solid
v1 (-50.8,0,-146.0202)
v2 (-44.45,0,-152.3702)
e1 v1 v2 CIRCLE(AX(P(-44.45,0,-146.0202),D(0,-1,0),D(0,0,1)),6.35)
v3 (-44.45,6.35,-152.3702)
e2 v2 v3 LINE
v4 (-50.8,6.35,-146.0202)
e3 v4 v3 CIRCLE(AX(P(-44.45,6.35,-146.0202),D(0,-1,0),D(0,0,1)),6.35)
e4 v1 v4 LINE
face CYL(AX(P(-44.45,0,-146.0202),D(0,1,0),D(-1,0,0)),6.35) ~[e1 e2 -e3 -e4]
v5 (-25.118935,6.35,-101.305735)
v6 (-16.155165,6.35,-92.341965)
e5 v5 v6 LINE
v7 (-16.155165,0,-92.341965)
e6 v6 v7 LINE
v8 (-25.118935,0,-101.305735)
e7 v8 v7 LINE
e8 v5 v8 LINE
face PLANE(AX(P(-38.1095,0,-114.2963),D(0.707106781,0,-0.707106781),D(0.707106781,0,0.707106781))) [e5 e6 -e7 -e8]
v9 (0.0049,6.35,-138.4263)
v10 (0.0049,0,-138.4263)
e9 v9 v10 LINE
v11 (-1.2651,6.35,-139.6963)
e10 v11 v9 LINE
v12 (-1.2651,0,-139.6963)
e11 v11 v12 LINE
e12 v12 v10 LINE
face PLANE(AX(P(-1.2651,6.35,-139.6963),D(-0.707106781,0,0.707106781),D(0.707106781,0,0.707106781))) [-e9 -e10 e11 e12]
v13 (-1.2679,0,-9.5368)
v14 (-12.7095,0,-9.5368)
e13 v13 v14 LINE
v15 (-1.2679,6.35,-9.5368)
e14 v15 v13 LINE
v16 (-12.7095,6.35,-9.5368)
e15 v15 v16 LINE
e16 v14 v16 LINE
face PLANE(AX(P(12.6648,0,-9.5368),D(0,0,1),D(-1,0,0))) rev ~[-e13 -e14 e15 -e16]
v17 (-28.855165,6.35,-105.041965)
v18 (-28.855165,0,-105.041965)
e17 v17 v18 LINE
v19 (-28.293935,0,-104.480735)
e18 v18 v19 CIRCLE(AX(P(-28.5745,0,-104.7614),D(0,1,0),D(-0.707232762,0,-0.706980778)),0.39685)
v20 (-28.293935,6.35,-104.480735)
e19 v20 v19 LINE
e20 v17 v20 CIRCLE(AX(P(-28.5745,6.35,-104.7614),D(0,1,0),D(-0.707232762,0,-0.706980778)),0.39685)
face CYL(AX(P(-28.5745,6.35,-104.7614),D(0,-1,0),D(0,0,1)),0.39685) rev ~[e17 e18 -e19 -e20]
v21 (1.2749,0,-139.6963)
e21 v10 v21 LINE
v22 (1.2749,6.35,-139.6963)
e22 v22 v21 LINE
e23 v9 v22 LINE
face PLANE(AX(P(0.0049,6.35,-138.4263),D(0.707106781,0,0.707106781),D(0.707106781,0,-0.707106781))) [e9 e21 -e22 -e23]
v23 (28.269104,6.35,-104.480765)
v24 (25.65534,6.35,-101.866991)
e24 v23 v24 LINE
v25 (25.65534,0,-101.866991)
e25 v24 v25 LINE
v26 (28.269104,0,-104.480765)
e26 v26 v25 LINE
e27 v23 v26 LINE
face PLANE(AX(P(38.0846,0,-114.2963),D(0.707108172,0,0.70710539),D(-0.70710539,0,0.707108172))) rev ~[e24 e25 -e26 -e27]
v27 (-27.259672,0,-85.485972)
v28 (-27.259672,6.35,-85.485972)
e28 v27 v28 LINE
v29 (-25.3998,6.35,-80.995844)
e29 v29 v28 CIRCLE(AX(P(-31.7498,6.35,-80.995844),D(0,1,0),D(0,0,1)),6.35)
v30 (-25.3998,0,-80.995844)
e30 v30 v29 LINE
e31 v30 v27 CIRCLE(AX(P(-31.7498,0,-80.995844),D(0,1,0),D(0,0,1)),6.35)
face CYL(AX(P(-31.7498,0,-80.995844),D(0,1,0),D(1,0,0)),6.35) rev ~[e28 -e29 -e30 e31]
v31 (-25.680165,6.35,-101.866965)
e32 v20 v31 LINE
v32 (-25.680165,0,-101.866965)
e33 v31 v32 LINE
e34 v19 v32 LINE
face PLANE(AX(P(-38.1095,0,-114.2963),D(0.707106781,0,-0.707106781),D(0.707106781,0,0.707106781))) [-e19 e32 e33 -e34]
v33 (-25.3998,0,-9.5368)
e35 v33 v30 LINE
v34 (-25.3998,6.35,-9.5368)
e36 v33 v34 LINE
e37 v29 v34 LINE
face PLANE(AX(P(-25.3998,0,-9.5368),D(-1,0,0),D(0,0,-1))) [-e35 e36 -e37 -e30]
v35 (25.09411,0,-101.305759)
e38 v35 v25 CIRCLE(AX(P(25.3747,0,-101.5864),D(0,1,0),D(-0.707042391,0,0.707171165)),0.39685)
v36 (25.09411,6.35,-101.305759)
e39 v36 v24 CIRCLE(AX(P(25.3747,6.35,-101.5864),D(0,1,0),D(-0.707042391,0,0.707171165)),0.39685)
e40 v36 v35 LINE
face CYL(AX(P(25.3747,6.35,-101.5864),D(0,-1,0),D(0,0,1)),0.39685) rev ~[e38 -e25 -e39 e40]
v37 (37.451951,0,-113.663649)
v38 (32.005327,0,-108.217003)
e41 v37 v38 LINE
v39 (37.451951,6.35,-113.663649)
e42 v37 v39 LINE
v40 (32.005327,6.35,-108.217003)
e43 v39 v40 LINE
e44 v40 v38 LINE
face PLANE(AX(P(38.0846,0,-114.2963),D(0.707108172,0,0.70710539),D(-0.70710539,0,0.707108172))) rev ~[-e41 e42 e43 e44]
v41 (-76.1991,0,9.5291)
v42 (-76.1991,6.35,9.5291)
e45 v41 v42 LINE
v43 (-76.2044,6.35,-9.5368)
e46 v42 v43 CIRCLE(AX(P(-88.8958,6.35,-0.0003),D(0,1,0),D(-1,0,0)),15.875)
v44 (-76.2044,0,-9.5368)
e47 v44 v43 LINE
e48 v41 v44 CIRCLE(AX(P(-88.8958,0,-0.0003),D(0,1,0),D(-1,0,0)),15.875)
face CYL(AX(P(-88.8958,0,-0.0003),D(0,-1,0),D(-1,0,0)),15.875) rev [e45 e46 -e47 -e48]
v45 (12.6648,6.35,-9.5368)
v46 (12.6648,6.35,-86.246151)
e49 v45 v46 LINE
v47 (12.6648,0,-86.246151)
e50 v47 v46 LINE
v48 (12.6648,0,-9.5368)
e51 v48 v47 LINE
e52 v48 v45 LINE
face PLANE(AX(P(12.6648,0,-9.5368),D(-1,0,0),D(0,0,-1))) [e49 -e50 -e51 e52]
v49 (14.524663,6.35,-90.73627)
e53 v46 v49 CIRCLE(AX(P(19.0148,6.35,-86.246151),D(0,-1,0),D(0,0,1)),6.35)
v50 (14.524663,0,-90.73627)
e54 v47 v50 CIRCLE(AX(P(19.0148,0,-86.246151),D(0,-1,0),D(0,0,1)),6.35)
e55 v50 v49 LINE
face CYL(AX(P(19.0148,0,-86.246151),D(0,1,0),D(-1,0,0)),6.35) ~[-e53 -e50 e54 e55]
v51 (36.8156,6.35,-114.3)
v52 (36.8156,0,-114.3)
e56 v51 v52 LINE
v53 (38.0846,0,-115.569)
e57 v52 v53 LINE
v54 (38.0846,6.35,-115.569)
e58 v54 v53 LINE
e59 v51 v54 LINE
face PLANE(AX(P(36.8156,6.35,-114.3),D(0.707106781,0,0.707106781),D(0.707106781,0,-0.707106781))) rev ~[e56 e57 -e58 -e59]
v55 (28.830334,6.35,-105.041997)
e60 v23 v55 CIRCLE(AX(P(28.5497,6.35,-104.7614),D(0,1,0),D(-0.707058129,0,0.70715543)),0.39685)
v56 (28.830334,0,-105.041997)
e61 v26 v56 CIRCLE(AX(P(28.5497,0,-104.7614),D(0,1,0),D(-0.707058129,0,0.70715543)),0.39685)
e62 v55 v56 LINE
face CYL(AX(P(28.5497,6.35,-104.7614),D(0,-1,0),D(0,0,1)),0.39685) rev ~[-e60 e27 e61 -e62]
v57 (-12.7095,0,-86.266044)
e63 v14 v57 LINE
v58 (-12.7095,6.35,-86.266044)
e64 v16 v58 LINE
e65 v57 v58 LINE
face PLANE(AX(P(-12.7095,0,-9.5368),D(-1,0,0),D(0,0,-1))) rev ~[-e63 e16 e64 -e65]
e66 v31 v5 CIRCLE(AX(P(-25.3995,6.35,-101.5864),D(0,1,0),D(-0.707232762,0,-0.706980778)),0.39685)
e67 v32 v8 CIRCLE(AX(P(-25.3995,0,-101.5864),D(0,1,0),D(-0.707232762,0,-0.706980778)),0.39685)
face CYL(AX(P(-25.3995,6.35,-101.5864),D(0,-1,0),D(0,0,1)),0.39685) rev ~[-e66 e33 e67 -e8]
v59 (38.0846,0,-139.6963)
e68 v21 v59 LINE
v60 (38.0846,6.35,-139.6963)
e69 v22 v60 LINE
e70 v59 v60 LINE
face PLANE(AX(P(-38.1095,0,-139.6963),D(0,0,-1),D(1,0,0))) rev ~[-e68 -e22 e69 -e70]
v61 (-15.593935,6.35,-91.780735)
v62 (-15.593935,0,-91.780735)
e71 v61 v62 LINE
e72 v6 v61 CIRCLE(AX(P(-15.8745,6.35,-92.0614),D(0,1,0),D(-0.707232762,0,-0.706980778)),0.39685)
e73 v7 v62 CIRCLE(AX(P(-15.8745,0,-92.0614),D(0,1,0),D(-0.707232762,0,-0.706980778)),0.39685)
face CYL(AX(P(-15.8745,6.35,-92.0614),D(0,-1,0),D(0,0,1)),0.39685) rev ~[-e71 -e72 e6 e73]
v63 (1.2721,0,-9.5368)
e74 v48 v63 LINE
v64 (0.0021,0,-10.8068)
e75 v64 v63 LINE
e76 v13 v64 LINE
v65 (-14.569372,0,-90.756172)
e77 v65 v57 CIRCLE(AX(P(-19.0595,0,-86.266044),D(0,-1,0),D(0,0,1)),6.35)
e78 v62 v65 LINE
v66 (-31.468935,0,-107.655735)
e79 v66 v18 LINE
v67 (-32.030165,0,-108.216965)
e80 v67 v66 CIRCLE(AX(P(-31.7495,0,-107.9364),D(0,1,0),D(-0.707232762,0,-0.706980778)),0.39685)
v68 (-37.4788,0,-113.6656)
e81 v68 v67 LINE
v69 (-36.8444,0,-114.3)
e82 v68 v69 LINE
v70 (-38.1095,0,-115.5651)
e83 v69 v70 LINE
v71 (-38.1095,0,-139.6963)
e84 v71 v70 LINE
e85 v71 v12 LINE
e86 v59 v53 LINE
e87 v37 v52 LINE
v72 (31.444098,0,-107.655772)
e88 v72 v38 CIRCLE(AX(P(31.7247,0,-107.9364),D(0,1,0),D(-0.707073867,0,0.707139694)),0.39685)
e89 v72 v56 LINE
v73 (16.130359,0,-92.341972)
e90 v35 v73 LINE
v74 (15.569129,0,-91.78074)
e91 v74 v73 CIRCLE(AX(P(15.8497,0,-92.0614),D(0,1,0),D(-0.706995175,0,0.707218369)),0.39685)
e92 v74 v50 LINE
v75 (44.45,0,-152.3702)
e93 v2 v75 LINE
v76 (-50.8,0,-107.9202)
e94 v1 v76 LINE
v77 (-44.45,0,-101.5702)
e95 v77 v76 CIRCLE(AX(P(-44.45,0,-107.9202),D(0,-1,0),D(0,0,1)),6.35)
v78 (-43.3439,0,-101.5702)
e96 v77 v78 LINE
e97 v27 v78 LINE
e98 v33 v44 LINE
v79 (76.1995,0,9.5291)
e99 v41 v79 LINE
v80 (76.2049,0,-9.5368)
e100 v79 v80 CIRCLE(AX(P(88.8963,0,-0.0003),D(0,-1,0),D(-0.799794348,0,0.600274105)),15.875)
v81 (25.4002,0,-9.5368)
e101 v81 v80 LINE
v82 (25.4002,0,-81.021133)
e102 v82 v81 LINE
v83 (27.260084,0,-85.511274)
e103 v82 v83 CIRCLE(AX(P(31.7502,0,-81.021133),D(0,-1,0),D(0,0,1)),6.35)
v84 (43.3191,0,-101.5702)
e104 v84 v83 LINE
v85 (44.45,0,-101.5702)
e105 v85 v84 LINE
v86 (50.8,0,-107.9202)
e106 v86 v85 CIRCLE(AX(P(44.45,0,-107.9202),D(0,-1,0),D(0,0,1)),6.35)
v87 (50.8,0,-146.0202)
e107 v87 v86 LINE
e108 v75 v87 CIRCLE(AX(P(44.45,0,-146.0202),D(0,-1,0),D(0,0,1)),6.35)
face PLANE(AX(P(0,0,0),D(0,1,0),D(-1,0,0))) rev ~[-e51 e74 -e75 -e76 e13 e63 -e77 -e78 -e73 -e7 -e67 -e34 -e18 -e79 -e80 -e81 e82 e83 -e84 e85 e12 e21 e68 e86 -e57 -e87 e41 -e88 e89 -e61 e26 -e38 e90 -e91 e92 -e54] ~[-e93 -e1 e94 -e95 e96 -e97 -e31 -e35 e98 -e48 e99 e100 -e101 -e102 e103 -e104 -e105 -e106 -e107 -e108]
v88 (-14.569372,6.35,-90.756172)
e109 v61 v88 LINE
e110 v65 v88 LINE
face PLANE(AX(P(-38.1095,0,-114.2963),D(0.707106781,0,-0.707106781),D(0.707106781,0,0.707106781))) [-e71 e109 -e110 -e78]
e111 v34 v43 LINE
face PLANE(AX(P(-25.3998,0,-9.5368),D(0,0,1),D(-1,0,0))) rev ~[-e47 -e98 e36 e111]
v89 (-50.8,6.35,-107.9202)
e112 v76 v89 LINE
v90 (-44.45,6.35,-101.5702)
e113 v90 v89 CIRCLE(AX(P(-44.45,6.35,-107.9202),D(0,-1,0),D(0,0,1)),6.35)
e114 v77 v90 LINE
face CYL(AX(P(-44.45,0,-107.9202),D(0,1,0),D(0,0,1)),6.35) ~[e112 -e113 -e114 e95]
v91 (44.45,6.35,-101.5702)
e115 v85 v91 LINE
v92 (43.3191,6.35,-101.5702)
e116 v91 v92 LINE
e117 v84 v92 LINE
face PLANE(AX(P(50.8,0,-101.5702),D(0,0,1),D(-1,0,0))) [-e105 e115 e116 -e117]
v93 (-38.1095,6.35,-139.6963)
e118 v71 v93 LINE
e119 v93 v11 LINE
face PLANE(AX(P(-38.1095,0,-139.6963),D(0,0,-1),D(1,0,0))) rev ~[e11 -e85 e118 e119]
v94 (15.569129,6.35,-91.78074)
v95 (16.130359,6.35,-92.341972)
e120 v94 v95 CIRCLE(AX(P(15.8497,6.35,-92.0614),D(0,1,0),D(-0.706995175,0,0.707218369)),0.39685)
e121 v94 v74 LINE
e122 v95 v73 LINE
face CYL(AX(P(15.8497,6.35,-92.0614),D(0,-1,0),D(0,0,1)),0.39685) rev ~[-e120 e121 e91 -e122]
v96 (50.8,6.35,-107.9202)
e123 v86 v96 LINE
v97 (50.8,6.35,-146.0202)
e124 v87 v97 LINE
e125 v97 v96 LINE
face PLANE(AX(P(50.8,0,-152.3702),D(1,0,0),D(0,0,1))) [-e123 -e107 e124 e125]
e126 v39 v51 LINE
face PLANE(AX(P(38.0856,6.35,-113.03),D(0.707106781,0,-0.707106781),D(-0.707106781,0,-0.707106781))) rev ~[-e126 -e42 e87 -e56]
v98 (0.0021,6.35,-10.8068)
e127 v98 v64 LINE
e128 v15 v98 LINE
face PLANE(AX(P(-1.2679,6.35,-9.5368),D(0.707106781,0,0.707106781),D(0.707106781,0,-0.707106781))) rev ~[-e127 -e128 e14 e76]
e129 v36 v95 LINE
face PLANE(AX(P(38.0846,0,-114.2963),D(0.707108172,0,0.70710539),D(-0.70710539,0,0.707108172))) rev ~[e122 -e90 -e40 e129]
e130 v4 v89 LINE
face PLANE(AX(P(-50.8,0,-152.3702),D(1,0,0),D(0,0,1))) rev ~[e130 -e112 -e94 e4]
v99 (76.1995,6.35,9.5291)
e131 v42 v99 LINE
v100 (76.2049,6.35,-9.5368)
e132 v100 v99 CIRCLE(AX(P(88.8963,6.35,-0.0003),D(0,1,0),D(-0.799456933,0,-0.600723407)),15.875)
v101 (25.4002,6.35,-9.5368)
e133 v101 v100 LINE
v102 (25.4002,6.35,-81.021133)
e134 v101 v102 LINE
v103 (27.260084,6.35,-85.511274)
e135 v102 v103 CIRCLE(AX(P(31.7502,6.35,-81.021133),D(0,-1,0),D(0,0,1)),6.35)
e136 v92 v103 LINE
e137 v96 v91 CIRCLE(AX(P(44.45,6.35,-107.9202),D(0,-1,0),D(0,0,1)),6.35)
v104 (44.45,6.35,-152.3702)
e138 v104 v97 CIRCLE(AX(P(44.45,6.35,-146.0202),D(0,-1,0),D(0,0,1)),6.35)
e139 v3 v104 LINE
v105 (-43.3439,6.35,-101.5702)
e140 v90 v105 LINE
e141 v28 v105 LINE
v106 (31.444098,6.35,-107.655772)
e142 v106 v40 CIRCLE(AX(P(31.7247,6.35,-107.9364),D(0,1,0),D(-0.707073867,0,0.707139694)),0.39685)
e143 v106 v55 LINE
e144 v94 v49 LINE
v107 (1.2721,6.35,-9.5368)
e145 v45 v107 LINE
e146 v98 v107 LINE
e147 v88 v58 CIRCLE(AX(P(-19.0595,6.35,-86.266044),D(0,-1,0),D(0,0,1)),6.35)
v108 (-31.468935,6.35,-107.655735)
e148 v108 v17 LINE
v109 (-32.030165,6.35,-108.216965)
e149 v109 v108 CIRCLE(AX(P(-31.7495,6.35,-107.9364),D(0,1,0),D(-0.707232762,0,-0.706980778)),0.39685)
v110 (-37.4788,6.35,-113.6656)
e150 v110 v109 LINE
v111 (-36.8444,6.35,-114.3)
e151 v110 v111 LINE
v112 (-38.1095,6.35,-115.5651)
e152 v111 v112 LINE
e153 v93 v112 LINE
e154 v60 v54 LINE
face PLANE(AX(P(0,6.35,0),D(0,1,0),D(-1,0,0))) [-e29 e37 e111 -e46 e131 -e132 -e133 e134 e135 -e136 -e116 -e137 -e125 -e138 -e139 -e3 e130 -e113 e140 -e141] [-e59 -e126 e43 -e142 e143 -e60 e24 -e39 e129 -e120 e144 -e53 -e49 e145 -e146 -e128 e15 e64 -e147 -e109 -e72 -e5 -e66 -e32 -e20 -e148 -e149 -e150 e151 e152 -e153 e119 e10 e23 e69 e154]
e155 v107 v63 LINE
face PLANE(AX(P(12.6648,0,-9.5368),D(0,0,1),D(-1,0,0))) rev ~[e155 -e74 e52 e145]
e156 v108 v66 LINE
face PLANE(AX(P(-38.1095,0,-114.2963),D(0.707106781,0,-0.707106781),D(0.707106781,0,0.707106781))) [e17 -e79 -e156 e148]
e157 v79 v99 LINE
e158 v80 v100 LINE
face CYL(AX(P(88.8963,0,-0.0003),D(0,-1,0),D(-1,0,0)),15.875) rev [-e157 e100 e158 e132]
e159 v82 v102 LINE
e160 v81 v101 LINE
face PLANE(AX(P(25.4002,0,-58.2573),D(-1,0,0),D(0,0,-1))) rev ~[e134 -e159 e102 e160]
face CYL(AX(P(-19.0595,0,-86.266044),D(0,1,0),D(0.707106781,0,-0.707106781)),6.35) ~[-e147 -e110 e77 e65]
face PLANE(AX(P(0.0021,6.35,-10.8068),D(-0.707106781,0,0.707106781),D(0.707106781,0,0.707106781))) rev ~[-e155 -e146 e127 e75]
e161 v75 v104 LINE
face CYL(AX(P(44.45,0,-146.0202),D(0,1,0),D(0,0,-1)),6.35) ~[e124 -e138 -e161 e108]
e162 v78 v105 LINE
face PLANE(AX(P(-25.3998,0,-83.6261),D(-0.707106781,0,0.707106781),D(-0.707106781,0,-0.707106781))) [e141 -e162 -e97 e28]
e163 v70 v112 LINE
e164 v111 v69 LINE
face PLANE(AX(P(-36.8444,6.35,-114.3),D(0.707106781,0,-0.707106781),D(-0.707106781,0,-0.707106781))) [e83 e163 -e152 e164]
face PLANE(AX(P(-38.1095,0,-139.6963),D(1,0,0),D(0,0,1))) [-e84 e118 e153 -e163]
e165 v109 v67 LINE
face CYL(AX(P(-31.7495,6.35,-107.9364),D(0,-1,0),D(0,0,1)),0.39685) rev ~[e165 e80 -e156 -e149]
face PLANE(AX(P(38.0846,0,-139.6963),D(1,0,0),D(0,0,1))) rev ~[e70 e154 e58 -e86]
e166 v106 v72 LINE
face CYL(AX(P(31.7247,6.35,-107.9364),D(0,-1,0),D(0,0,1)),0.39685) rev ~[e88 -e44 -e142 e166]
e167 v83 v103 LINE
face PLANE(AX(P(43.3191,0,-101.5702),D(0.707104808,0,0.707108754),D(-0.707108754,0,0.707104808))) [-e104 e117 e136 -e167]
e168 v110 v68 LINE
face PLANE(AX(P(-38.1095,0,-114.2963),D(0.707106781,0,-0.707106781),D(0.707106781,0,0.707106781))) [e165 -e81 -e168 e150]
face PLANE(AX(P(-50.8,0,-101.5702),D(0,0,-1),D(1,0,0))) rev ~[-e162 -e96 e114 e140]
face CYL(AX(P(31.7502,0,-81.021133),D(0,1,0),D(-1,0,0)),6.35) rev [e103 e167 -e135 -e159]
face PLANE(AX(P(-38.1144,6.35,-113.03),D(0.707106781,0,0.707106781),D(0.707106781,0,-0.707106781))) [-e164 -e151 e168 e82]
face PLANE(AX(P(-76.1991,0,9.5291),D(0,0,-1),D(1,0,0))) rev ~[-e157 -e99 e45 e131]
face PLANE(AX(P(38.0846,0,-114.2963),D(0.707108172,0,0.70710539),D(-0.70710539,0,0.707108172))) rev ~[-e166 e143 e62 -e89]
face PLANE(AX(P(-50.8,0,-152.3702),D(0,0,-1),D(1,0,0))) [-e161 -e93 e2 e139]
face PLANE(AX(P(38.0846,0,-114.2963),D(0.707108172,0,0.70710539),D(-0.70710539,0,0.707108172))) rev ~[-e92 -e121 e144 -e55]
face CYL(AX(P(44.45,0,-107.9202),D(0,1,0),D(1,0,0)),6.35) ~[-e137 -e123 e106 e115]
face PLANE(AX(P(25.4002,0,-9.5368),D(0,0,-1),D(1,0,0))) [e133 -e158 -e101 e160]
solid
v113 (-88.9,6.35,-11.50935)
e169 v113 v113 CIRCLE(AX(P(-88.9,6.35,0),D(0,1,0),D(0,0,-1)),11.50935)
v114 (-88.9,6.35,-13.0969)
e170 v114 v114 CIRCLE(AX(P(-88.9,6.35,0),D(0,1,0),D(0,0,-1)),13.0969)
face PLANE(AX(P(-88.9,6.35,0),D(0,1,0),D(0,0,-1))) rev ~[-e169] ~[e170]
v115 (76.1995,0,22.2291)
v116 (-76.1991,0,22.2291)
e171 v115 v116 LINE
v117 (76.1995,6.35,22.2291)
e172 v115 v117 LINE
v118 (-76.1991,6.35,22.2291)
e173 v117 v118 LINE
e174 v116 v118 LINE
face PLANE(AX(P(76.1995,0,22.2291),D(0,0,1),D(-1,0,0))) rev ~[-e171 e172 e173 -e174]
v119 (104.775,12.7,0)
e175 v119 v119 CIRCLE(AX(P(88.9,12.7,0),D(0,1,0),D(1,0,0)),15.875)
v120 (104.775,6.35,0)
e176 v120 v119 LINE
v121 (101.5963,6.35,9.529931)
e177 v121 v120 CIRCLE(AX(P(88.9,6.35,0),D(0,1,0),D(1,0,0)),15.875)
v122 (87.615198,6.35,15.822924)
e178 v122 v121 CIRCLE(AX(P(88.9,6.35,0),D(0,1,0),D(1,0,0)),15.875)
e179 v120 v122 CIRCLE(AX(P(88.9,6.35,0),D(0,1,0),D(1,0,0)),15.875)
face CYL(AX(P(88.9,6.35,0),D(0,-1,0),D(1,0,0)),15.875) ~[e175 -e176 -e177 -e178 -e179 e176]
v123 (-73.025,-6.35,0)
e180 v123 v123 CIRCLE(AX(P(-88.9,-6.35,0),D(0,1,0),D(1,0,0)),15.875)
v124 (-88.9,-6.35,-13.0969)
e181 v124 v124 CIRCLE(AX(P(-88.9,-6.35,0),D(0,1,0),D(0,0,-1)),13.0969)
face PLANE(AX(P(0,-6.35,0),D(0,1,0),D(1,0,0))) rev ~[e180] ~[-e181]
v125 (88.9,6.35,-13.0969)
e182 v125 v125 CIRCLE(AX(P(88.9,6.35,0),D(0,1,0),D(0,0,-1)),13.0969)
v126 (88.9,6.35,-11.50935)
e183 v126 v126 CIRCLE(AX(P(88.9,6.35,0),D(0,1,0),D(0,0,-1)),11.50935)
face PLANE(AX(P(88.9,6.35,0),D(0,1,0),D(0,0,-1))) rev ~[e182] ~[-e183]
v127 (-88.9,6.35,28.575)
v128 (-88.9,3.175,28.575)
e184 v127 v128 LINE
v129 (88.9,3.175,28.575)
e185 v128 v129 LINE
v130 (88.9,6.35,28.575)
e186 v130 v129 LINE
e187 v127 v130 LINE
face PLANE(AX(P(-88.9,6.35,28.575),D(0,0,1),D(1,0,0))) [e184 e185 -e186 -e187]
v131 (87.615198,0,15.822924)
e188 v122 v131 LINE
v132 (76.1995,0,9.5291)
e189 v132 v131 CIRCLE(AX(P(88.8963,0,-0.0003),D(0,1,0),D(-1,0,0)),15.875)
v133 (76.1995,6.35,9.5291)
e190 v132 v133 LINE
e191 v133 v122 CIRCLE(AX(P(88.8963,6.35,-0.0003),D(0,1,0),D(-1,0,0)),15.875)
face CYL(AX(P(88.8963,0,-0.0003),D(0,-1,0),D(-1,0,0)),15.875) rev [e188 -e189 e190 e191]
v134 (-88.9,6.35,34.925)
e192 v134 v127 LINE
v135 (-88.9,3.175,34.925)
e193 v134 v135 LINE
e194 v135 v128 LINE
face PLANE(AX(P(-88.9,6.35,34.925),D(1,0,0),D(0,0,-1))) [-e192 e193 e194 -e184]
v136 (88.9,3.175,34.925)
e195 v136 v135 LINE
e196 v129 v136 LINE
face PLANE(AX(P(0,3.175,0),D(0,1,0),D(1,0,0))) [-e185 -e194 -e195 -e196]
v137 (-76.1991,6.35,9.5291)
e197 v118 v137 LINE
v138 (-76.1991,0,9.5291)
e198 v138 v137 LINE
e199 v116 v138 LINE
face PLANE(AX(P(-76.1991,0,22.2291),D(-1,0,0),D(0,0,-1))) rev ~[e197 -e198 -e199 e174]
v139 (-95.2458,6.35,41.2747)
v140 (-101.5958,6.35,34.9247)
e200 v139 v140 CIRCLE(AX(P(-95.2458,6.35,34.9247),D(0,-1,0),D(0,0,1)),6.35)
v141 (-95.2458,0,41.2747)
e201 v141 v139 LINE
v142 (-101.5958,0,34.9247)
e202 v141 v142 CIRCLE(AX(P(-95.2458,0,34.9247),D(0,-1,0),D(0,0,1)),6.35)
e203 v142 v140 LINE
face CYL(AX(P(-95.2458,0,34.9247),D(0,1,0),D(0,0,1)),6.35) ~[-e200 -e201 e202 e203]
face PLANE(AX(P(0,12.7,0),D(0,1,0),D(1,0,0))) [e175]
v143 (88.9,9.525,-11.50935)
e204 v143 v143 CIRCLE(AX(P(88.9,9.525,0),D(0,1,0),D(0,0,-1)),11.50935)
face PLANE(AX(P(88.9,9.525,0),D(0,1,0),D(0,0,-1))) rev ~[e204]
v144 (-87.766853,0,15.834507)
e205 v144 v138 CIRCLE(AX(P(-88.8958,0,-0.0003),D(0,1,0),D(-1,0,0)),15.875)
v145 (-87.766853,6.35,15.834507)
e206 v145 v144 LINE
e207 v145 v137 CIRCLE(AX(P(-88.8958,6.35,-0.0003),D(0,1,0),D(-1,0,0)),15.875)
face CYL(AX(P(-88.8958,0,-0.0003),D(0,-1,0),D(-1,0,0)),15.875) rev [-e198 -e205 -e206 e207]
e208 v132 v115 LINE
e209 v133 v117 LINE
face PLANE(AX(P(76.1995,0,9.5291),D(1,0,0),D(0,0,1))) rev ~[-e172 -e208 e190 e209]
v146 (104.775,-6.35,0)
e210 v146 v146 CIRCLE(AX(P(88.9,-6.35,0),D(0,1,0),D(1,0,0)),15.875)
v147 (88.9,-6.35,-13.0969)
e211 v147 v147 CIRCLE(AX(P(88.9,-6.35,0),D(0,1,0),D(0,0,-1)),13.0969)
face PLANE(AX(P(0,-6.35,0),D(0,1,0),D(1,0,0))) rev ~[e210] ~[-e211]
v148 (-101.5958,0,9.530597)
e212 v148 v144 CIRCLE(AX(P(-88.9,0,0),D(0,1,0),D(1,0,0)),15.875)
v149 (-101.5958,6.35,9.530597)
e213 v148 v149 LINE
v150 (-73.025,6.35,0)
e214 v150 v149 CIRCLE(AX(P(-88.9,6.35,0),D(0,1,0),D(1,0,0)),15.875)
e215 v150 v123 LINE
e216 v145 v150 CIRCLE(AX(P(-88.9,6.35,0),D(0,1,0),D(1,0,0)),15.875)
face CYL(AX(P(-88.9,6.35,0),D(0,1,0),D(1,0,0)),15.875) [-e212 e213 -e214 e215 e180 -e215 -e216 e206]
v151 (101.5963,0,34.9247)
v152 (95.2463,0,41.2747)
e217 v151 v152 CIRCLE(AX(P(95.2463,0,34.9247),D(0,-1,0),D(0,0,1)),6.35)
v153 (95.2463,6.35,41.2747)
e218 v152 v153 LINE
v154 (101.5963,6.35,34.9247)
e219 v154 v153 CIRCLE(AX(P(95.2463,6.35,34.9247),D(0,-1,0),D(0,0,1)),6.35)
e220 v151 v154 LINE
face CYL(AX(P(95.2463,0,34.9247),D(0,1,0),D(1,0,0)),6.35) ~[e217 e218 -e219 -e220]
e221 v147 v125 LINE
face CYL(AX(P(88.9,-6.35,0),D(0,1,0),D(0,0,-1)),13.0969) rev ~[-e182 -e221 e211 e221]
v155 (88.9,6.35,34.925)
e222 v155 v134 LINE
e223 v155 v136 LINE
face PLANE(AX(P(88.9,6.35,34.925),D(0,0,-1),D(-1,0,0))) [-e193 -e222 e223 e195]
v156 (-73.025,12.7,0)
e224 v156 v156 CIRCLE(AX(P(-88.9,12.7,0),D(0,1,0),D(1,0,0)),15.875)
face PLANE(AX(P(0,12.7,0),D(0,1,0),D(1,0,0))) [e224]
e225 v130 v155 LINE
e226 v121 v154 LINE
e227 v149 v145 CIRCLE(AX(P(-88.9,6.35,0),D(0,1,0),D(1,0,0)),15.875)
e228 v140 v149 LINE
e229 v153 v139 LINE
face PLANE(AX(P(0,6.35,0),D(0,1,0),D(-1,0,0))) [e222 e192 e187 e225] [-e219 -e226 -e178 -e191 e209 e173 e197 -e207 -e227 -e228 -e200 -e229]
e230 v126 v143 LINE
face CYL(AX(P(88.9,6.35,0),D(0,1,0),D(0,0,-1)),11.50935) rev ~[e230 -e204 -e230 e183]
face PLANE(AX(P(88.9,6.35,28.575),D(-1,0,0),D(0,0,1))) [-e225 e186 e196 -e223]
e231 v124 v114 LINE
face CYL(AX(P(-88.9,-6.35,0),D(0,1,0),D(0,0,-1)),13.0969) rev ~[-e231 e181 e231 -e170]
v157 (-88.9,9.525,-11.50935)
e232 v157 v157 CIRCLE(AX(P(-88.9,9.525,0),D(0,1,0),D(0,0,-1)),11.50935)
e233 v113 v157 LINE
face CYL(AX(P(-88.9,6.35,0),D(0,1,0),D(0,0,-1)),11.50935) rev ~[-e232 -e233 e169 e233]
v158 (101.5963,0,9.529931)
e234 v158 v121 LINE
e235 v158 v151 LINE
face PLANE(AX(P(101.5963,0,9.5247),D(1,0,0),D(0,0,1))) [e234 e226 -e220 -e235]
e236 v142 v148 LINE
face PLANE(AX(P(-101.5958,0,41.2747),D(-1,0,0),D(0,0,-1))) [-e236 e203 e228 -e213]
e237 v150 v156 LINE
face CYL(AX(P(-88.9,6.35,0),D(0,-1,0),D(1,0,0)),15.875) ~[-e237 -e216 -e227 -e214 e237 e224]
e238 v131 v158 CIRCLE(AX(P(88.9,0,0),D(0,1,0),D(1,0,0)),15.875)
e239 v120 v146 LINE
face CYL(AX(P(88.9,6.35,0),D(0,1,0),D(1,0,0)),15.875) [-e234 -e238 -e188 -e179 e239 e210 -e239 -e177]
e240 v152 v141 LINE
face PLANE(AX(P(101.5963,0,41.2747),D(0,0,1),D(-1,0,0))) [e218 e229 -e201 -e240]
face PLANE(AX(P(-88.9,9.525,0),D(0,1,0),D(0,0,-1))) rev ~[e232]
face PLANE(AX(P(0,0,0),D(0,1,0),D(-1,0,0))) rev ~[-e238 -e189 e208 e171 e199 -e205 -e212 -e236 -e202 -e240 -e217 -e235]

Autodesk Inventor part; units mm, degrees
ref_plane "YZ Plane" through (0, 0, 0) normal (1, 0, 0) x (0, 1, 0)
ref_plane "XZ Plane" through (0, 0, 0) normal (0, 1, 0) x (-1, 0, 0)
ref_plane "XY Plane" through (0, 0, 0) normal (0, 0, 1) x (1, 0, 0)
sketch "Sketch1" plane through (0, 0, 0) normal (0, 1, 0) x (-1, 0, 0)
  circle A0 centre (88.8958, -0.0003) radius 15.875
  circle A1 centre (-88.8963, -0.0003) radius 15.875
  line L0 (76.1991, 9.5291) -> (-76.1995, 9.5291)
  line L1 (-76.1995, 9.5291) -> (-76.1995, 22.2291)
  line L2 (-76.1995, 22.2291) -> (76.1991, 22.2291)
  line L3 (76.1991, 22.2291) -> (76.1991, 9.5291)
  line L4 (-101.5963, 9.5247) -> (-101.5963, 41.2747)
  line L5 (-101.5963, 41.2747) -> (101.5958, 41.2747)
  line L6 (101.5958, 41.2747) -> (101.5958, 9.5247)
  line L7 (38.1095, -139.6963) -> (-38.0846, -139.6963)
  line L8 (50.8, -152.3702) -> (-50.8, -152.3702)
  line L9 (25.3998, -9.5368) -> (25.3998, -58.2151)
  line L10 (-25.4002, -9.5368) -> (-25.4002, -58.2573)
  line L11 (-25.4002, -9.5368) -> (-76.2049, -9.5368)
  line L12 (-12.6648, -9.5368) -> (12.7095, -9.5368)
  line L13 (25.3998, -9.5368) -> (76.2044, -9.5368)
  line L14 (38.1095, -139.6963) -> (38.1095, -114.2963)
  line L15 (-38.0846, -139.6963) -> (-38.0846, -114.2963)
  line L16 (-50.8, -152.3702) -> (-50.8, -101.5702)
  line L17 (50.8, -152.3702) -> (50.8, -101.5702)
  line L18 (38.1095, -114.2963) -> (12.7095, -88.8963)
  line L19 (38.1095, -114.2963) -> (74.0305, -114.2963) construction
  line L20 (-38.0846, -114.2963) -> (-12.6648, -88.8764)
  line L21 (-38.0846, -114.2963) -> (-2.1355, -114.2963) construction
  line L22 (-12.6648, -9.5368) -> (-12.6648, -88.8764)
  line L23 (12.7095, -9.5368) -> (12.7095, -88.8963)
  line L24 (25.4095, -101.5963) -> (38.1095, -101.5963) construction
  line L25 (38.1095, -114.2963) -> (56.0749, -114.2963) construction
  line L26 (-25.3747, -101.5863) -> (-12.6747, -101.5863) construction
  line L27 (-25.4002, -58.2573) -> (-25.4002, -83.6514)
  line L28 (-50.8, -101.5702) -> (-43.3191, -101.5702)
  line L29 (-43.3191, -101.5702) -> (-25.4002, -83.6514)
  line L30 (25.3998, -58.2151) -> (25.3998, -83.6261)
  line L31 (50.8, -101.5702) -> (43.3439, -101.5702)
  line L32 (25.3998, -83.6261) -> (43.3439, -101.5702)
  point P0 (0, 0)
  dimension "d2" = 31.75
  dimension "d3" = 31.75
  dimension "d119" = 25.4
  dimension "d120" = 25.4
  dimension "d121" = 50.8
  dimension "d122" = 50.8
  dimension "d123" = 135
  dimension "d124" = 45
extrude "Extrusion1" add sketch "Sketch1" along normal blind 6.35 contours A0 L3 L2 L1 A1 L4 L5 L6 | L13 L9 L30 L32 L31 L17 L8 L16 L28 L29 L27 L10 L11 A1 L0 A0
sketch "Sketch6" plane through (0, 6.35, 0) normal (0, 1, 0) x (1, 0, 0)
  line L0 (1.2749, 139.6963) -> (-1.2651, 139.6963)
  line L1 (-1.2651, 139.6963) -> (0.0049, 138.4263)
  line L2 (0.0049, 138.4263) -> (1.2749, 139.6963)
  line L3 (38.0856, 115.57) -> (38.0856, 113.03)
  line L4 (38.0856, 113.03) -> (36.8156, 114.3)
  line L5 (36.8156, 114.3) -> (38.0856, 115.57)
  line L6 (-38.1144, 115.57) -> (-38.1144, 113.03)
  line L7 (-38.1144, 113.03) -> (-36.8444, 114.3)
  line L8 (-36.8444, 114.3) -> (-38.1144, 115.57)
  line L9 (12.6648, 9.5368) -> (-12.7095, 9.5368) projected
  line L10 (1.2721, 9.5368) -> (-1.2679, 9.5368)
  line L11 (-1.2679, 9.5368) -> (0.0021, 10.8068)
  line L12 (0.0021, 10.8068) -> (1.2721, 9.5368)
  point P0 (0, 0)
  point P1 (12.6626, 9.5405)
  point P2 (-12.6933, 9.5405)
  point P3 (-12.7095, 9.5368)
  dimension "d55" = 2.54
  dimension "d56" = 45
  dimension "d57" = 2.54
  dimension "d58" = 45
  dimension "d59" = 2.54
  dimension "d60" = 45
  dimension "d61" = 2.54
  dimension "d62" = 45
extrude "Extrusion4" add sketch "Sketch6" against normal blind 6.35
sketch "Sketch13" plane through (0, 6.35, 0) normal (0, 1, 0) x (1, 0, 0)
  circle A0 centre (-88.9, 0) radius 15.875
  circle A1 centre (88.9, 0) radius 15.875
  point P0 (0, 0)
  dimension "d130" = 31.75
  dimension "d131" = 31.75
extrude "Extrusion5" add sketch "Sketch13" along normal blind 6.35 and the other way blind 12.7
fillet "Fillet1" radius 6.35 10 edges at (101.5963, 3.175, 41.2747) (-101.5958, 3.175, 41.2747) (50.8, 3.175, -152.3702) (-50.8, 3.175, -152.3702) (-50.8, 3.175, -101.5702) (50.8, 3.175, -101.5702) (25.4002, 3.175, -83.6514) (-25.3998, 3.175, -83.6261) (12.6648, 3.175, -88.8764) (-12.7095, 3.175, -88.8963)
sketch "Sketch15" plane through (-88.9, -6.35, 0) normal (0, -1, 0) x (1, 0, 0)
  circle A0 centre (0, 0) radius 15.875 projected
  circle A1 centre (177.8, 0) radius 15.875 projected
  point P0 (88.9, 0)
hole "Hole10" at (-88.9, -6.35, 0) at (88.9, -6.35, 0) direction (0, 1, 0) diameter 26.1938 depth 12.7
sketch "Sketch17" plane through (-88.9, 6.35, 0) normal (0, -1, 0) x (1, 0, 0)
  circle A0 centre (0, 0) radius 13.0969 projected
  circle A1 centre (177.8, 0) radius 13.0969 projected
  point P0 (88.9, 0)
hole "Hole12" at (-88.9, 6.35, 0) at (88.9, 6.35, 0) direction (0, 1, 0) diameter 23.0187 depth 3.175
sketch "Sketch20" plane through (0, 6.35, 0) normal (0, 1, 0) x (1, 0, 0)
  line L0 (-25.3998, 9.5368) -> (-76.2044, 9.5368) projected
  line L1 (-14.5693, 90.7562) -> (-37.4788, 113.6656) projected
  line L2 (76.2049, 9.5368) -> (25.4002, 9.5368) projected
  line L3 (37.452, 113.6636) -> (14.5246, 90.7363) projected
  point P0 (0, 0)
  point P1 (31.7247, 107.9364)
  point P2 (-31.7495, 107.9364)
  dimension "d182" = 98.3996
  dimension "d183" = 0
  dimension "d184" = 98.3996
  dimension "d185" = 0
hole "Hole15" at (-31.7495, 6.35, -107.9364) at (31.7247, 6.35, -107.9364) direction (0, -1, 0) diameter 0.7937 end through all
sketch "Sketch21" plane through (0, 6.35, 0) normal (0, 1, 0) x (1, 0, 0)
  line L0 (-25.3998, 9.5368) -> (-76.2044, 9.5368) projected
  line L1 (-14.5693, 90.7562) -> (-31.4689, 107.6557) projected
  line L2 (76.2049, 9.5368) -> (25.4002, 9.5368) projected
  line L3 (31.4441, 107.6557) -> (14.5246, 90.7363) projected
  point P0 (0, 0)
  point P1 (28.5497, 104.7614)
  point P2 (-28.5745, 104.7614)
  dimension "d193" = 95.2246
  dimension "d194" = 0
  dimension "d202" = 95.2246
  dimension "d203" = 0
hole "Hole16" at (-28.5745, 6.35, -104.7614) at (28.5497, 6.35, -104.7614) direction (0, -1, 0) diameter 0.7937 end through all
sketch "Sketch22" plane through (0, 6.35, 0) normal (0, 1, 0) x (1, 0, 0)
  line L0 (-25.3998, 9.5368) -> (-76.2044, 9.5368) projected
  line L1 (-14.5693, 90.7562) -> (-28.2939, 104.4807) projected
  line L2 (76.2049, 9.5368) -> (25.4002, 9.5368) projected
  line L3 (28.2691, 104.4807) -> (14.5246, 90.7363) projected
  point P0 (0, 0)
  point P1 (25.3747, 101.5864)
  point P2 (-25.3995, 101.5864)
  dimension "d204" = 92.0496
  dimension "d205" = 0
  dimension "d206" = 92.0496
  dimension "d207" = 0
hole "Hole17" at (-25.3995, 6.35, -101.5864) at (25.3747, 6.35, -101.5864) direction (0, -1, 0) diameter 0.7937 end through all
sketch "Sketch23" plane through (0, 6.35, 0) normal (0, 1, 0) x (1, 0, 0)
  line L0 (-25.3998, 9.5368) -> (-76.2044, 9.5368) projected
  line L1 (-14.5693, 90.7562) -> (-25.1189, 101.3057) projected
  line L2 (76.2049, 9.5368) -> (25.4002, 9.5368) projected
  line L3 (25.0941, 101.3057) -> (14.5246, 90.7363) projected
  point P0 (0, 0)
  point P1 (15.8497, 92.0614)
  point P2 (-15.8745, 92.0614)
  dimension "d215" = 82.5246
  dimension "d216" = 0
  dimension "d217" = 82.5246
  dimension "d218" = 0
hole "Hole18" at (-15.8745, 6.35, -92.0614) at (15.8497, 6.35, -92.0614) direction (0, -1, 0) diameter 0.7937 end through all
sketch "Sketch25" plane through (0, 6.35, 0) normal (0, 1, 0) x (1, 0, 0)
  line L0 (-88.9, -28.575) -> (88.9, -28.575)
  line L1 (88.9, -28.575) -> (88.9, -34.925)
  line L2 (88.9, -34.925) -> (-88.9, -34.925)
  line L3 (-88.9, -34.925) -> (-88.9, -28.575)
  point P0 (0, 0)
extrude "Extrusion7" cut sketch "Sketch25" against normal blind 3.175
properties part number "Positioning tool mini VR"
